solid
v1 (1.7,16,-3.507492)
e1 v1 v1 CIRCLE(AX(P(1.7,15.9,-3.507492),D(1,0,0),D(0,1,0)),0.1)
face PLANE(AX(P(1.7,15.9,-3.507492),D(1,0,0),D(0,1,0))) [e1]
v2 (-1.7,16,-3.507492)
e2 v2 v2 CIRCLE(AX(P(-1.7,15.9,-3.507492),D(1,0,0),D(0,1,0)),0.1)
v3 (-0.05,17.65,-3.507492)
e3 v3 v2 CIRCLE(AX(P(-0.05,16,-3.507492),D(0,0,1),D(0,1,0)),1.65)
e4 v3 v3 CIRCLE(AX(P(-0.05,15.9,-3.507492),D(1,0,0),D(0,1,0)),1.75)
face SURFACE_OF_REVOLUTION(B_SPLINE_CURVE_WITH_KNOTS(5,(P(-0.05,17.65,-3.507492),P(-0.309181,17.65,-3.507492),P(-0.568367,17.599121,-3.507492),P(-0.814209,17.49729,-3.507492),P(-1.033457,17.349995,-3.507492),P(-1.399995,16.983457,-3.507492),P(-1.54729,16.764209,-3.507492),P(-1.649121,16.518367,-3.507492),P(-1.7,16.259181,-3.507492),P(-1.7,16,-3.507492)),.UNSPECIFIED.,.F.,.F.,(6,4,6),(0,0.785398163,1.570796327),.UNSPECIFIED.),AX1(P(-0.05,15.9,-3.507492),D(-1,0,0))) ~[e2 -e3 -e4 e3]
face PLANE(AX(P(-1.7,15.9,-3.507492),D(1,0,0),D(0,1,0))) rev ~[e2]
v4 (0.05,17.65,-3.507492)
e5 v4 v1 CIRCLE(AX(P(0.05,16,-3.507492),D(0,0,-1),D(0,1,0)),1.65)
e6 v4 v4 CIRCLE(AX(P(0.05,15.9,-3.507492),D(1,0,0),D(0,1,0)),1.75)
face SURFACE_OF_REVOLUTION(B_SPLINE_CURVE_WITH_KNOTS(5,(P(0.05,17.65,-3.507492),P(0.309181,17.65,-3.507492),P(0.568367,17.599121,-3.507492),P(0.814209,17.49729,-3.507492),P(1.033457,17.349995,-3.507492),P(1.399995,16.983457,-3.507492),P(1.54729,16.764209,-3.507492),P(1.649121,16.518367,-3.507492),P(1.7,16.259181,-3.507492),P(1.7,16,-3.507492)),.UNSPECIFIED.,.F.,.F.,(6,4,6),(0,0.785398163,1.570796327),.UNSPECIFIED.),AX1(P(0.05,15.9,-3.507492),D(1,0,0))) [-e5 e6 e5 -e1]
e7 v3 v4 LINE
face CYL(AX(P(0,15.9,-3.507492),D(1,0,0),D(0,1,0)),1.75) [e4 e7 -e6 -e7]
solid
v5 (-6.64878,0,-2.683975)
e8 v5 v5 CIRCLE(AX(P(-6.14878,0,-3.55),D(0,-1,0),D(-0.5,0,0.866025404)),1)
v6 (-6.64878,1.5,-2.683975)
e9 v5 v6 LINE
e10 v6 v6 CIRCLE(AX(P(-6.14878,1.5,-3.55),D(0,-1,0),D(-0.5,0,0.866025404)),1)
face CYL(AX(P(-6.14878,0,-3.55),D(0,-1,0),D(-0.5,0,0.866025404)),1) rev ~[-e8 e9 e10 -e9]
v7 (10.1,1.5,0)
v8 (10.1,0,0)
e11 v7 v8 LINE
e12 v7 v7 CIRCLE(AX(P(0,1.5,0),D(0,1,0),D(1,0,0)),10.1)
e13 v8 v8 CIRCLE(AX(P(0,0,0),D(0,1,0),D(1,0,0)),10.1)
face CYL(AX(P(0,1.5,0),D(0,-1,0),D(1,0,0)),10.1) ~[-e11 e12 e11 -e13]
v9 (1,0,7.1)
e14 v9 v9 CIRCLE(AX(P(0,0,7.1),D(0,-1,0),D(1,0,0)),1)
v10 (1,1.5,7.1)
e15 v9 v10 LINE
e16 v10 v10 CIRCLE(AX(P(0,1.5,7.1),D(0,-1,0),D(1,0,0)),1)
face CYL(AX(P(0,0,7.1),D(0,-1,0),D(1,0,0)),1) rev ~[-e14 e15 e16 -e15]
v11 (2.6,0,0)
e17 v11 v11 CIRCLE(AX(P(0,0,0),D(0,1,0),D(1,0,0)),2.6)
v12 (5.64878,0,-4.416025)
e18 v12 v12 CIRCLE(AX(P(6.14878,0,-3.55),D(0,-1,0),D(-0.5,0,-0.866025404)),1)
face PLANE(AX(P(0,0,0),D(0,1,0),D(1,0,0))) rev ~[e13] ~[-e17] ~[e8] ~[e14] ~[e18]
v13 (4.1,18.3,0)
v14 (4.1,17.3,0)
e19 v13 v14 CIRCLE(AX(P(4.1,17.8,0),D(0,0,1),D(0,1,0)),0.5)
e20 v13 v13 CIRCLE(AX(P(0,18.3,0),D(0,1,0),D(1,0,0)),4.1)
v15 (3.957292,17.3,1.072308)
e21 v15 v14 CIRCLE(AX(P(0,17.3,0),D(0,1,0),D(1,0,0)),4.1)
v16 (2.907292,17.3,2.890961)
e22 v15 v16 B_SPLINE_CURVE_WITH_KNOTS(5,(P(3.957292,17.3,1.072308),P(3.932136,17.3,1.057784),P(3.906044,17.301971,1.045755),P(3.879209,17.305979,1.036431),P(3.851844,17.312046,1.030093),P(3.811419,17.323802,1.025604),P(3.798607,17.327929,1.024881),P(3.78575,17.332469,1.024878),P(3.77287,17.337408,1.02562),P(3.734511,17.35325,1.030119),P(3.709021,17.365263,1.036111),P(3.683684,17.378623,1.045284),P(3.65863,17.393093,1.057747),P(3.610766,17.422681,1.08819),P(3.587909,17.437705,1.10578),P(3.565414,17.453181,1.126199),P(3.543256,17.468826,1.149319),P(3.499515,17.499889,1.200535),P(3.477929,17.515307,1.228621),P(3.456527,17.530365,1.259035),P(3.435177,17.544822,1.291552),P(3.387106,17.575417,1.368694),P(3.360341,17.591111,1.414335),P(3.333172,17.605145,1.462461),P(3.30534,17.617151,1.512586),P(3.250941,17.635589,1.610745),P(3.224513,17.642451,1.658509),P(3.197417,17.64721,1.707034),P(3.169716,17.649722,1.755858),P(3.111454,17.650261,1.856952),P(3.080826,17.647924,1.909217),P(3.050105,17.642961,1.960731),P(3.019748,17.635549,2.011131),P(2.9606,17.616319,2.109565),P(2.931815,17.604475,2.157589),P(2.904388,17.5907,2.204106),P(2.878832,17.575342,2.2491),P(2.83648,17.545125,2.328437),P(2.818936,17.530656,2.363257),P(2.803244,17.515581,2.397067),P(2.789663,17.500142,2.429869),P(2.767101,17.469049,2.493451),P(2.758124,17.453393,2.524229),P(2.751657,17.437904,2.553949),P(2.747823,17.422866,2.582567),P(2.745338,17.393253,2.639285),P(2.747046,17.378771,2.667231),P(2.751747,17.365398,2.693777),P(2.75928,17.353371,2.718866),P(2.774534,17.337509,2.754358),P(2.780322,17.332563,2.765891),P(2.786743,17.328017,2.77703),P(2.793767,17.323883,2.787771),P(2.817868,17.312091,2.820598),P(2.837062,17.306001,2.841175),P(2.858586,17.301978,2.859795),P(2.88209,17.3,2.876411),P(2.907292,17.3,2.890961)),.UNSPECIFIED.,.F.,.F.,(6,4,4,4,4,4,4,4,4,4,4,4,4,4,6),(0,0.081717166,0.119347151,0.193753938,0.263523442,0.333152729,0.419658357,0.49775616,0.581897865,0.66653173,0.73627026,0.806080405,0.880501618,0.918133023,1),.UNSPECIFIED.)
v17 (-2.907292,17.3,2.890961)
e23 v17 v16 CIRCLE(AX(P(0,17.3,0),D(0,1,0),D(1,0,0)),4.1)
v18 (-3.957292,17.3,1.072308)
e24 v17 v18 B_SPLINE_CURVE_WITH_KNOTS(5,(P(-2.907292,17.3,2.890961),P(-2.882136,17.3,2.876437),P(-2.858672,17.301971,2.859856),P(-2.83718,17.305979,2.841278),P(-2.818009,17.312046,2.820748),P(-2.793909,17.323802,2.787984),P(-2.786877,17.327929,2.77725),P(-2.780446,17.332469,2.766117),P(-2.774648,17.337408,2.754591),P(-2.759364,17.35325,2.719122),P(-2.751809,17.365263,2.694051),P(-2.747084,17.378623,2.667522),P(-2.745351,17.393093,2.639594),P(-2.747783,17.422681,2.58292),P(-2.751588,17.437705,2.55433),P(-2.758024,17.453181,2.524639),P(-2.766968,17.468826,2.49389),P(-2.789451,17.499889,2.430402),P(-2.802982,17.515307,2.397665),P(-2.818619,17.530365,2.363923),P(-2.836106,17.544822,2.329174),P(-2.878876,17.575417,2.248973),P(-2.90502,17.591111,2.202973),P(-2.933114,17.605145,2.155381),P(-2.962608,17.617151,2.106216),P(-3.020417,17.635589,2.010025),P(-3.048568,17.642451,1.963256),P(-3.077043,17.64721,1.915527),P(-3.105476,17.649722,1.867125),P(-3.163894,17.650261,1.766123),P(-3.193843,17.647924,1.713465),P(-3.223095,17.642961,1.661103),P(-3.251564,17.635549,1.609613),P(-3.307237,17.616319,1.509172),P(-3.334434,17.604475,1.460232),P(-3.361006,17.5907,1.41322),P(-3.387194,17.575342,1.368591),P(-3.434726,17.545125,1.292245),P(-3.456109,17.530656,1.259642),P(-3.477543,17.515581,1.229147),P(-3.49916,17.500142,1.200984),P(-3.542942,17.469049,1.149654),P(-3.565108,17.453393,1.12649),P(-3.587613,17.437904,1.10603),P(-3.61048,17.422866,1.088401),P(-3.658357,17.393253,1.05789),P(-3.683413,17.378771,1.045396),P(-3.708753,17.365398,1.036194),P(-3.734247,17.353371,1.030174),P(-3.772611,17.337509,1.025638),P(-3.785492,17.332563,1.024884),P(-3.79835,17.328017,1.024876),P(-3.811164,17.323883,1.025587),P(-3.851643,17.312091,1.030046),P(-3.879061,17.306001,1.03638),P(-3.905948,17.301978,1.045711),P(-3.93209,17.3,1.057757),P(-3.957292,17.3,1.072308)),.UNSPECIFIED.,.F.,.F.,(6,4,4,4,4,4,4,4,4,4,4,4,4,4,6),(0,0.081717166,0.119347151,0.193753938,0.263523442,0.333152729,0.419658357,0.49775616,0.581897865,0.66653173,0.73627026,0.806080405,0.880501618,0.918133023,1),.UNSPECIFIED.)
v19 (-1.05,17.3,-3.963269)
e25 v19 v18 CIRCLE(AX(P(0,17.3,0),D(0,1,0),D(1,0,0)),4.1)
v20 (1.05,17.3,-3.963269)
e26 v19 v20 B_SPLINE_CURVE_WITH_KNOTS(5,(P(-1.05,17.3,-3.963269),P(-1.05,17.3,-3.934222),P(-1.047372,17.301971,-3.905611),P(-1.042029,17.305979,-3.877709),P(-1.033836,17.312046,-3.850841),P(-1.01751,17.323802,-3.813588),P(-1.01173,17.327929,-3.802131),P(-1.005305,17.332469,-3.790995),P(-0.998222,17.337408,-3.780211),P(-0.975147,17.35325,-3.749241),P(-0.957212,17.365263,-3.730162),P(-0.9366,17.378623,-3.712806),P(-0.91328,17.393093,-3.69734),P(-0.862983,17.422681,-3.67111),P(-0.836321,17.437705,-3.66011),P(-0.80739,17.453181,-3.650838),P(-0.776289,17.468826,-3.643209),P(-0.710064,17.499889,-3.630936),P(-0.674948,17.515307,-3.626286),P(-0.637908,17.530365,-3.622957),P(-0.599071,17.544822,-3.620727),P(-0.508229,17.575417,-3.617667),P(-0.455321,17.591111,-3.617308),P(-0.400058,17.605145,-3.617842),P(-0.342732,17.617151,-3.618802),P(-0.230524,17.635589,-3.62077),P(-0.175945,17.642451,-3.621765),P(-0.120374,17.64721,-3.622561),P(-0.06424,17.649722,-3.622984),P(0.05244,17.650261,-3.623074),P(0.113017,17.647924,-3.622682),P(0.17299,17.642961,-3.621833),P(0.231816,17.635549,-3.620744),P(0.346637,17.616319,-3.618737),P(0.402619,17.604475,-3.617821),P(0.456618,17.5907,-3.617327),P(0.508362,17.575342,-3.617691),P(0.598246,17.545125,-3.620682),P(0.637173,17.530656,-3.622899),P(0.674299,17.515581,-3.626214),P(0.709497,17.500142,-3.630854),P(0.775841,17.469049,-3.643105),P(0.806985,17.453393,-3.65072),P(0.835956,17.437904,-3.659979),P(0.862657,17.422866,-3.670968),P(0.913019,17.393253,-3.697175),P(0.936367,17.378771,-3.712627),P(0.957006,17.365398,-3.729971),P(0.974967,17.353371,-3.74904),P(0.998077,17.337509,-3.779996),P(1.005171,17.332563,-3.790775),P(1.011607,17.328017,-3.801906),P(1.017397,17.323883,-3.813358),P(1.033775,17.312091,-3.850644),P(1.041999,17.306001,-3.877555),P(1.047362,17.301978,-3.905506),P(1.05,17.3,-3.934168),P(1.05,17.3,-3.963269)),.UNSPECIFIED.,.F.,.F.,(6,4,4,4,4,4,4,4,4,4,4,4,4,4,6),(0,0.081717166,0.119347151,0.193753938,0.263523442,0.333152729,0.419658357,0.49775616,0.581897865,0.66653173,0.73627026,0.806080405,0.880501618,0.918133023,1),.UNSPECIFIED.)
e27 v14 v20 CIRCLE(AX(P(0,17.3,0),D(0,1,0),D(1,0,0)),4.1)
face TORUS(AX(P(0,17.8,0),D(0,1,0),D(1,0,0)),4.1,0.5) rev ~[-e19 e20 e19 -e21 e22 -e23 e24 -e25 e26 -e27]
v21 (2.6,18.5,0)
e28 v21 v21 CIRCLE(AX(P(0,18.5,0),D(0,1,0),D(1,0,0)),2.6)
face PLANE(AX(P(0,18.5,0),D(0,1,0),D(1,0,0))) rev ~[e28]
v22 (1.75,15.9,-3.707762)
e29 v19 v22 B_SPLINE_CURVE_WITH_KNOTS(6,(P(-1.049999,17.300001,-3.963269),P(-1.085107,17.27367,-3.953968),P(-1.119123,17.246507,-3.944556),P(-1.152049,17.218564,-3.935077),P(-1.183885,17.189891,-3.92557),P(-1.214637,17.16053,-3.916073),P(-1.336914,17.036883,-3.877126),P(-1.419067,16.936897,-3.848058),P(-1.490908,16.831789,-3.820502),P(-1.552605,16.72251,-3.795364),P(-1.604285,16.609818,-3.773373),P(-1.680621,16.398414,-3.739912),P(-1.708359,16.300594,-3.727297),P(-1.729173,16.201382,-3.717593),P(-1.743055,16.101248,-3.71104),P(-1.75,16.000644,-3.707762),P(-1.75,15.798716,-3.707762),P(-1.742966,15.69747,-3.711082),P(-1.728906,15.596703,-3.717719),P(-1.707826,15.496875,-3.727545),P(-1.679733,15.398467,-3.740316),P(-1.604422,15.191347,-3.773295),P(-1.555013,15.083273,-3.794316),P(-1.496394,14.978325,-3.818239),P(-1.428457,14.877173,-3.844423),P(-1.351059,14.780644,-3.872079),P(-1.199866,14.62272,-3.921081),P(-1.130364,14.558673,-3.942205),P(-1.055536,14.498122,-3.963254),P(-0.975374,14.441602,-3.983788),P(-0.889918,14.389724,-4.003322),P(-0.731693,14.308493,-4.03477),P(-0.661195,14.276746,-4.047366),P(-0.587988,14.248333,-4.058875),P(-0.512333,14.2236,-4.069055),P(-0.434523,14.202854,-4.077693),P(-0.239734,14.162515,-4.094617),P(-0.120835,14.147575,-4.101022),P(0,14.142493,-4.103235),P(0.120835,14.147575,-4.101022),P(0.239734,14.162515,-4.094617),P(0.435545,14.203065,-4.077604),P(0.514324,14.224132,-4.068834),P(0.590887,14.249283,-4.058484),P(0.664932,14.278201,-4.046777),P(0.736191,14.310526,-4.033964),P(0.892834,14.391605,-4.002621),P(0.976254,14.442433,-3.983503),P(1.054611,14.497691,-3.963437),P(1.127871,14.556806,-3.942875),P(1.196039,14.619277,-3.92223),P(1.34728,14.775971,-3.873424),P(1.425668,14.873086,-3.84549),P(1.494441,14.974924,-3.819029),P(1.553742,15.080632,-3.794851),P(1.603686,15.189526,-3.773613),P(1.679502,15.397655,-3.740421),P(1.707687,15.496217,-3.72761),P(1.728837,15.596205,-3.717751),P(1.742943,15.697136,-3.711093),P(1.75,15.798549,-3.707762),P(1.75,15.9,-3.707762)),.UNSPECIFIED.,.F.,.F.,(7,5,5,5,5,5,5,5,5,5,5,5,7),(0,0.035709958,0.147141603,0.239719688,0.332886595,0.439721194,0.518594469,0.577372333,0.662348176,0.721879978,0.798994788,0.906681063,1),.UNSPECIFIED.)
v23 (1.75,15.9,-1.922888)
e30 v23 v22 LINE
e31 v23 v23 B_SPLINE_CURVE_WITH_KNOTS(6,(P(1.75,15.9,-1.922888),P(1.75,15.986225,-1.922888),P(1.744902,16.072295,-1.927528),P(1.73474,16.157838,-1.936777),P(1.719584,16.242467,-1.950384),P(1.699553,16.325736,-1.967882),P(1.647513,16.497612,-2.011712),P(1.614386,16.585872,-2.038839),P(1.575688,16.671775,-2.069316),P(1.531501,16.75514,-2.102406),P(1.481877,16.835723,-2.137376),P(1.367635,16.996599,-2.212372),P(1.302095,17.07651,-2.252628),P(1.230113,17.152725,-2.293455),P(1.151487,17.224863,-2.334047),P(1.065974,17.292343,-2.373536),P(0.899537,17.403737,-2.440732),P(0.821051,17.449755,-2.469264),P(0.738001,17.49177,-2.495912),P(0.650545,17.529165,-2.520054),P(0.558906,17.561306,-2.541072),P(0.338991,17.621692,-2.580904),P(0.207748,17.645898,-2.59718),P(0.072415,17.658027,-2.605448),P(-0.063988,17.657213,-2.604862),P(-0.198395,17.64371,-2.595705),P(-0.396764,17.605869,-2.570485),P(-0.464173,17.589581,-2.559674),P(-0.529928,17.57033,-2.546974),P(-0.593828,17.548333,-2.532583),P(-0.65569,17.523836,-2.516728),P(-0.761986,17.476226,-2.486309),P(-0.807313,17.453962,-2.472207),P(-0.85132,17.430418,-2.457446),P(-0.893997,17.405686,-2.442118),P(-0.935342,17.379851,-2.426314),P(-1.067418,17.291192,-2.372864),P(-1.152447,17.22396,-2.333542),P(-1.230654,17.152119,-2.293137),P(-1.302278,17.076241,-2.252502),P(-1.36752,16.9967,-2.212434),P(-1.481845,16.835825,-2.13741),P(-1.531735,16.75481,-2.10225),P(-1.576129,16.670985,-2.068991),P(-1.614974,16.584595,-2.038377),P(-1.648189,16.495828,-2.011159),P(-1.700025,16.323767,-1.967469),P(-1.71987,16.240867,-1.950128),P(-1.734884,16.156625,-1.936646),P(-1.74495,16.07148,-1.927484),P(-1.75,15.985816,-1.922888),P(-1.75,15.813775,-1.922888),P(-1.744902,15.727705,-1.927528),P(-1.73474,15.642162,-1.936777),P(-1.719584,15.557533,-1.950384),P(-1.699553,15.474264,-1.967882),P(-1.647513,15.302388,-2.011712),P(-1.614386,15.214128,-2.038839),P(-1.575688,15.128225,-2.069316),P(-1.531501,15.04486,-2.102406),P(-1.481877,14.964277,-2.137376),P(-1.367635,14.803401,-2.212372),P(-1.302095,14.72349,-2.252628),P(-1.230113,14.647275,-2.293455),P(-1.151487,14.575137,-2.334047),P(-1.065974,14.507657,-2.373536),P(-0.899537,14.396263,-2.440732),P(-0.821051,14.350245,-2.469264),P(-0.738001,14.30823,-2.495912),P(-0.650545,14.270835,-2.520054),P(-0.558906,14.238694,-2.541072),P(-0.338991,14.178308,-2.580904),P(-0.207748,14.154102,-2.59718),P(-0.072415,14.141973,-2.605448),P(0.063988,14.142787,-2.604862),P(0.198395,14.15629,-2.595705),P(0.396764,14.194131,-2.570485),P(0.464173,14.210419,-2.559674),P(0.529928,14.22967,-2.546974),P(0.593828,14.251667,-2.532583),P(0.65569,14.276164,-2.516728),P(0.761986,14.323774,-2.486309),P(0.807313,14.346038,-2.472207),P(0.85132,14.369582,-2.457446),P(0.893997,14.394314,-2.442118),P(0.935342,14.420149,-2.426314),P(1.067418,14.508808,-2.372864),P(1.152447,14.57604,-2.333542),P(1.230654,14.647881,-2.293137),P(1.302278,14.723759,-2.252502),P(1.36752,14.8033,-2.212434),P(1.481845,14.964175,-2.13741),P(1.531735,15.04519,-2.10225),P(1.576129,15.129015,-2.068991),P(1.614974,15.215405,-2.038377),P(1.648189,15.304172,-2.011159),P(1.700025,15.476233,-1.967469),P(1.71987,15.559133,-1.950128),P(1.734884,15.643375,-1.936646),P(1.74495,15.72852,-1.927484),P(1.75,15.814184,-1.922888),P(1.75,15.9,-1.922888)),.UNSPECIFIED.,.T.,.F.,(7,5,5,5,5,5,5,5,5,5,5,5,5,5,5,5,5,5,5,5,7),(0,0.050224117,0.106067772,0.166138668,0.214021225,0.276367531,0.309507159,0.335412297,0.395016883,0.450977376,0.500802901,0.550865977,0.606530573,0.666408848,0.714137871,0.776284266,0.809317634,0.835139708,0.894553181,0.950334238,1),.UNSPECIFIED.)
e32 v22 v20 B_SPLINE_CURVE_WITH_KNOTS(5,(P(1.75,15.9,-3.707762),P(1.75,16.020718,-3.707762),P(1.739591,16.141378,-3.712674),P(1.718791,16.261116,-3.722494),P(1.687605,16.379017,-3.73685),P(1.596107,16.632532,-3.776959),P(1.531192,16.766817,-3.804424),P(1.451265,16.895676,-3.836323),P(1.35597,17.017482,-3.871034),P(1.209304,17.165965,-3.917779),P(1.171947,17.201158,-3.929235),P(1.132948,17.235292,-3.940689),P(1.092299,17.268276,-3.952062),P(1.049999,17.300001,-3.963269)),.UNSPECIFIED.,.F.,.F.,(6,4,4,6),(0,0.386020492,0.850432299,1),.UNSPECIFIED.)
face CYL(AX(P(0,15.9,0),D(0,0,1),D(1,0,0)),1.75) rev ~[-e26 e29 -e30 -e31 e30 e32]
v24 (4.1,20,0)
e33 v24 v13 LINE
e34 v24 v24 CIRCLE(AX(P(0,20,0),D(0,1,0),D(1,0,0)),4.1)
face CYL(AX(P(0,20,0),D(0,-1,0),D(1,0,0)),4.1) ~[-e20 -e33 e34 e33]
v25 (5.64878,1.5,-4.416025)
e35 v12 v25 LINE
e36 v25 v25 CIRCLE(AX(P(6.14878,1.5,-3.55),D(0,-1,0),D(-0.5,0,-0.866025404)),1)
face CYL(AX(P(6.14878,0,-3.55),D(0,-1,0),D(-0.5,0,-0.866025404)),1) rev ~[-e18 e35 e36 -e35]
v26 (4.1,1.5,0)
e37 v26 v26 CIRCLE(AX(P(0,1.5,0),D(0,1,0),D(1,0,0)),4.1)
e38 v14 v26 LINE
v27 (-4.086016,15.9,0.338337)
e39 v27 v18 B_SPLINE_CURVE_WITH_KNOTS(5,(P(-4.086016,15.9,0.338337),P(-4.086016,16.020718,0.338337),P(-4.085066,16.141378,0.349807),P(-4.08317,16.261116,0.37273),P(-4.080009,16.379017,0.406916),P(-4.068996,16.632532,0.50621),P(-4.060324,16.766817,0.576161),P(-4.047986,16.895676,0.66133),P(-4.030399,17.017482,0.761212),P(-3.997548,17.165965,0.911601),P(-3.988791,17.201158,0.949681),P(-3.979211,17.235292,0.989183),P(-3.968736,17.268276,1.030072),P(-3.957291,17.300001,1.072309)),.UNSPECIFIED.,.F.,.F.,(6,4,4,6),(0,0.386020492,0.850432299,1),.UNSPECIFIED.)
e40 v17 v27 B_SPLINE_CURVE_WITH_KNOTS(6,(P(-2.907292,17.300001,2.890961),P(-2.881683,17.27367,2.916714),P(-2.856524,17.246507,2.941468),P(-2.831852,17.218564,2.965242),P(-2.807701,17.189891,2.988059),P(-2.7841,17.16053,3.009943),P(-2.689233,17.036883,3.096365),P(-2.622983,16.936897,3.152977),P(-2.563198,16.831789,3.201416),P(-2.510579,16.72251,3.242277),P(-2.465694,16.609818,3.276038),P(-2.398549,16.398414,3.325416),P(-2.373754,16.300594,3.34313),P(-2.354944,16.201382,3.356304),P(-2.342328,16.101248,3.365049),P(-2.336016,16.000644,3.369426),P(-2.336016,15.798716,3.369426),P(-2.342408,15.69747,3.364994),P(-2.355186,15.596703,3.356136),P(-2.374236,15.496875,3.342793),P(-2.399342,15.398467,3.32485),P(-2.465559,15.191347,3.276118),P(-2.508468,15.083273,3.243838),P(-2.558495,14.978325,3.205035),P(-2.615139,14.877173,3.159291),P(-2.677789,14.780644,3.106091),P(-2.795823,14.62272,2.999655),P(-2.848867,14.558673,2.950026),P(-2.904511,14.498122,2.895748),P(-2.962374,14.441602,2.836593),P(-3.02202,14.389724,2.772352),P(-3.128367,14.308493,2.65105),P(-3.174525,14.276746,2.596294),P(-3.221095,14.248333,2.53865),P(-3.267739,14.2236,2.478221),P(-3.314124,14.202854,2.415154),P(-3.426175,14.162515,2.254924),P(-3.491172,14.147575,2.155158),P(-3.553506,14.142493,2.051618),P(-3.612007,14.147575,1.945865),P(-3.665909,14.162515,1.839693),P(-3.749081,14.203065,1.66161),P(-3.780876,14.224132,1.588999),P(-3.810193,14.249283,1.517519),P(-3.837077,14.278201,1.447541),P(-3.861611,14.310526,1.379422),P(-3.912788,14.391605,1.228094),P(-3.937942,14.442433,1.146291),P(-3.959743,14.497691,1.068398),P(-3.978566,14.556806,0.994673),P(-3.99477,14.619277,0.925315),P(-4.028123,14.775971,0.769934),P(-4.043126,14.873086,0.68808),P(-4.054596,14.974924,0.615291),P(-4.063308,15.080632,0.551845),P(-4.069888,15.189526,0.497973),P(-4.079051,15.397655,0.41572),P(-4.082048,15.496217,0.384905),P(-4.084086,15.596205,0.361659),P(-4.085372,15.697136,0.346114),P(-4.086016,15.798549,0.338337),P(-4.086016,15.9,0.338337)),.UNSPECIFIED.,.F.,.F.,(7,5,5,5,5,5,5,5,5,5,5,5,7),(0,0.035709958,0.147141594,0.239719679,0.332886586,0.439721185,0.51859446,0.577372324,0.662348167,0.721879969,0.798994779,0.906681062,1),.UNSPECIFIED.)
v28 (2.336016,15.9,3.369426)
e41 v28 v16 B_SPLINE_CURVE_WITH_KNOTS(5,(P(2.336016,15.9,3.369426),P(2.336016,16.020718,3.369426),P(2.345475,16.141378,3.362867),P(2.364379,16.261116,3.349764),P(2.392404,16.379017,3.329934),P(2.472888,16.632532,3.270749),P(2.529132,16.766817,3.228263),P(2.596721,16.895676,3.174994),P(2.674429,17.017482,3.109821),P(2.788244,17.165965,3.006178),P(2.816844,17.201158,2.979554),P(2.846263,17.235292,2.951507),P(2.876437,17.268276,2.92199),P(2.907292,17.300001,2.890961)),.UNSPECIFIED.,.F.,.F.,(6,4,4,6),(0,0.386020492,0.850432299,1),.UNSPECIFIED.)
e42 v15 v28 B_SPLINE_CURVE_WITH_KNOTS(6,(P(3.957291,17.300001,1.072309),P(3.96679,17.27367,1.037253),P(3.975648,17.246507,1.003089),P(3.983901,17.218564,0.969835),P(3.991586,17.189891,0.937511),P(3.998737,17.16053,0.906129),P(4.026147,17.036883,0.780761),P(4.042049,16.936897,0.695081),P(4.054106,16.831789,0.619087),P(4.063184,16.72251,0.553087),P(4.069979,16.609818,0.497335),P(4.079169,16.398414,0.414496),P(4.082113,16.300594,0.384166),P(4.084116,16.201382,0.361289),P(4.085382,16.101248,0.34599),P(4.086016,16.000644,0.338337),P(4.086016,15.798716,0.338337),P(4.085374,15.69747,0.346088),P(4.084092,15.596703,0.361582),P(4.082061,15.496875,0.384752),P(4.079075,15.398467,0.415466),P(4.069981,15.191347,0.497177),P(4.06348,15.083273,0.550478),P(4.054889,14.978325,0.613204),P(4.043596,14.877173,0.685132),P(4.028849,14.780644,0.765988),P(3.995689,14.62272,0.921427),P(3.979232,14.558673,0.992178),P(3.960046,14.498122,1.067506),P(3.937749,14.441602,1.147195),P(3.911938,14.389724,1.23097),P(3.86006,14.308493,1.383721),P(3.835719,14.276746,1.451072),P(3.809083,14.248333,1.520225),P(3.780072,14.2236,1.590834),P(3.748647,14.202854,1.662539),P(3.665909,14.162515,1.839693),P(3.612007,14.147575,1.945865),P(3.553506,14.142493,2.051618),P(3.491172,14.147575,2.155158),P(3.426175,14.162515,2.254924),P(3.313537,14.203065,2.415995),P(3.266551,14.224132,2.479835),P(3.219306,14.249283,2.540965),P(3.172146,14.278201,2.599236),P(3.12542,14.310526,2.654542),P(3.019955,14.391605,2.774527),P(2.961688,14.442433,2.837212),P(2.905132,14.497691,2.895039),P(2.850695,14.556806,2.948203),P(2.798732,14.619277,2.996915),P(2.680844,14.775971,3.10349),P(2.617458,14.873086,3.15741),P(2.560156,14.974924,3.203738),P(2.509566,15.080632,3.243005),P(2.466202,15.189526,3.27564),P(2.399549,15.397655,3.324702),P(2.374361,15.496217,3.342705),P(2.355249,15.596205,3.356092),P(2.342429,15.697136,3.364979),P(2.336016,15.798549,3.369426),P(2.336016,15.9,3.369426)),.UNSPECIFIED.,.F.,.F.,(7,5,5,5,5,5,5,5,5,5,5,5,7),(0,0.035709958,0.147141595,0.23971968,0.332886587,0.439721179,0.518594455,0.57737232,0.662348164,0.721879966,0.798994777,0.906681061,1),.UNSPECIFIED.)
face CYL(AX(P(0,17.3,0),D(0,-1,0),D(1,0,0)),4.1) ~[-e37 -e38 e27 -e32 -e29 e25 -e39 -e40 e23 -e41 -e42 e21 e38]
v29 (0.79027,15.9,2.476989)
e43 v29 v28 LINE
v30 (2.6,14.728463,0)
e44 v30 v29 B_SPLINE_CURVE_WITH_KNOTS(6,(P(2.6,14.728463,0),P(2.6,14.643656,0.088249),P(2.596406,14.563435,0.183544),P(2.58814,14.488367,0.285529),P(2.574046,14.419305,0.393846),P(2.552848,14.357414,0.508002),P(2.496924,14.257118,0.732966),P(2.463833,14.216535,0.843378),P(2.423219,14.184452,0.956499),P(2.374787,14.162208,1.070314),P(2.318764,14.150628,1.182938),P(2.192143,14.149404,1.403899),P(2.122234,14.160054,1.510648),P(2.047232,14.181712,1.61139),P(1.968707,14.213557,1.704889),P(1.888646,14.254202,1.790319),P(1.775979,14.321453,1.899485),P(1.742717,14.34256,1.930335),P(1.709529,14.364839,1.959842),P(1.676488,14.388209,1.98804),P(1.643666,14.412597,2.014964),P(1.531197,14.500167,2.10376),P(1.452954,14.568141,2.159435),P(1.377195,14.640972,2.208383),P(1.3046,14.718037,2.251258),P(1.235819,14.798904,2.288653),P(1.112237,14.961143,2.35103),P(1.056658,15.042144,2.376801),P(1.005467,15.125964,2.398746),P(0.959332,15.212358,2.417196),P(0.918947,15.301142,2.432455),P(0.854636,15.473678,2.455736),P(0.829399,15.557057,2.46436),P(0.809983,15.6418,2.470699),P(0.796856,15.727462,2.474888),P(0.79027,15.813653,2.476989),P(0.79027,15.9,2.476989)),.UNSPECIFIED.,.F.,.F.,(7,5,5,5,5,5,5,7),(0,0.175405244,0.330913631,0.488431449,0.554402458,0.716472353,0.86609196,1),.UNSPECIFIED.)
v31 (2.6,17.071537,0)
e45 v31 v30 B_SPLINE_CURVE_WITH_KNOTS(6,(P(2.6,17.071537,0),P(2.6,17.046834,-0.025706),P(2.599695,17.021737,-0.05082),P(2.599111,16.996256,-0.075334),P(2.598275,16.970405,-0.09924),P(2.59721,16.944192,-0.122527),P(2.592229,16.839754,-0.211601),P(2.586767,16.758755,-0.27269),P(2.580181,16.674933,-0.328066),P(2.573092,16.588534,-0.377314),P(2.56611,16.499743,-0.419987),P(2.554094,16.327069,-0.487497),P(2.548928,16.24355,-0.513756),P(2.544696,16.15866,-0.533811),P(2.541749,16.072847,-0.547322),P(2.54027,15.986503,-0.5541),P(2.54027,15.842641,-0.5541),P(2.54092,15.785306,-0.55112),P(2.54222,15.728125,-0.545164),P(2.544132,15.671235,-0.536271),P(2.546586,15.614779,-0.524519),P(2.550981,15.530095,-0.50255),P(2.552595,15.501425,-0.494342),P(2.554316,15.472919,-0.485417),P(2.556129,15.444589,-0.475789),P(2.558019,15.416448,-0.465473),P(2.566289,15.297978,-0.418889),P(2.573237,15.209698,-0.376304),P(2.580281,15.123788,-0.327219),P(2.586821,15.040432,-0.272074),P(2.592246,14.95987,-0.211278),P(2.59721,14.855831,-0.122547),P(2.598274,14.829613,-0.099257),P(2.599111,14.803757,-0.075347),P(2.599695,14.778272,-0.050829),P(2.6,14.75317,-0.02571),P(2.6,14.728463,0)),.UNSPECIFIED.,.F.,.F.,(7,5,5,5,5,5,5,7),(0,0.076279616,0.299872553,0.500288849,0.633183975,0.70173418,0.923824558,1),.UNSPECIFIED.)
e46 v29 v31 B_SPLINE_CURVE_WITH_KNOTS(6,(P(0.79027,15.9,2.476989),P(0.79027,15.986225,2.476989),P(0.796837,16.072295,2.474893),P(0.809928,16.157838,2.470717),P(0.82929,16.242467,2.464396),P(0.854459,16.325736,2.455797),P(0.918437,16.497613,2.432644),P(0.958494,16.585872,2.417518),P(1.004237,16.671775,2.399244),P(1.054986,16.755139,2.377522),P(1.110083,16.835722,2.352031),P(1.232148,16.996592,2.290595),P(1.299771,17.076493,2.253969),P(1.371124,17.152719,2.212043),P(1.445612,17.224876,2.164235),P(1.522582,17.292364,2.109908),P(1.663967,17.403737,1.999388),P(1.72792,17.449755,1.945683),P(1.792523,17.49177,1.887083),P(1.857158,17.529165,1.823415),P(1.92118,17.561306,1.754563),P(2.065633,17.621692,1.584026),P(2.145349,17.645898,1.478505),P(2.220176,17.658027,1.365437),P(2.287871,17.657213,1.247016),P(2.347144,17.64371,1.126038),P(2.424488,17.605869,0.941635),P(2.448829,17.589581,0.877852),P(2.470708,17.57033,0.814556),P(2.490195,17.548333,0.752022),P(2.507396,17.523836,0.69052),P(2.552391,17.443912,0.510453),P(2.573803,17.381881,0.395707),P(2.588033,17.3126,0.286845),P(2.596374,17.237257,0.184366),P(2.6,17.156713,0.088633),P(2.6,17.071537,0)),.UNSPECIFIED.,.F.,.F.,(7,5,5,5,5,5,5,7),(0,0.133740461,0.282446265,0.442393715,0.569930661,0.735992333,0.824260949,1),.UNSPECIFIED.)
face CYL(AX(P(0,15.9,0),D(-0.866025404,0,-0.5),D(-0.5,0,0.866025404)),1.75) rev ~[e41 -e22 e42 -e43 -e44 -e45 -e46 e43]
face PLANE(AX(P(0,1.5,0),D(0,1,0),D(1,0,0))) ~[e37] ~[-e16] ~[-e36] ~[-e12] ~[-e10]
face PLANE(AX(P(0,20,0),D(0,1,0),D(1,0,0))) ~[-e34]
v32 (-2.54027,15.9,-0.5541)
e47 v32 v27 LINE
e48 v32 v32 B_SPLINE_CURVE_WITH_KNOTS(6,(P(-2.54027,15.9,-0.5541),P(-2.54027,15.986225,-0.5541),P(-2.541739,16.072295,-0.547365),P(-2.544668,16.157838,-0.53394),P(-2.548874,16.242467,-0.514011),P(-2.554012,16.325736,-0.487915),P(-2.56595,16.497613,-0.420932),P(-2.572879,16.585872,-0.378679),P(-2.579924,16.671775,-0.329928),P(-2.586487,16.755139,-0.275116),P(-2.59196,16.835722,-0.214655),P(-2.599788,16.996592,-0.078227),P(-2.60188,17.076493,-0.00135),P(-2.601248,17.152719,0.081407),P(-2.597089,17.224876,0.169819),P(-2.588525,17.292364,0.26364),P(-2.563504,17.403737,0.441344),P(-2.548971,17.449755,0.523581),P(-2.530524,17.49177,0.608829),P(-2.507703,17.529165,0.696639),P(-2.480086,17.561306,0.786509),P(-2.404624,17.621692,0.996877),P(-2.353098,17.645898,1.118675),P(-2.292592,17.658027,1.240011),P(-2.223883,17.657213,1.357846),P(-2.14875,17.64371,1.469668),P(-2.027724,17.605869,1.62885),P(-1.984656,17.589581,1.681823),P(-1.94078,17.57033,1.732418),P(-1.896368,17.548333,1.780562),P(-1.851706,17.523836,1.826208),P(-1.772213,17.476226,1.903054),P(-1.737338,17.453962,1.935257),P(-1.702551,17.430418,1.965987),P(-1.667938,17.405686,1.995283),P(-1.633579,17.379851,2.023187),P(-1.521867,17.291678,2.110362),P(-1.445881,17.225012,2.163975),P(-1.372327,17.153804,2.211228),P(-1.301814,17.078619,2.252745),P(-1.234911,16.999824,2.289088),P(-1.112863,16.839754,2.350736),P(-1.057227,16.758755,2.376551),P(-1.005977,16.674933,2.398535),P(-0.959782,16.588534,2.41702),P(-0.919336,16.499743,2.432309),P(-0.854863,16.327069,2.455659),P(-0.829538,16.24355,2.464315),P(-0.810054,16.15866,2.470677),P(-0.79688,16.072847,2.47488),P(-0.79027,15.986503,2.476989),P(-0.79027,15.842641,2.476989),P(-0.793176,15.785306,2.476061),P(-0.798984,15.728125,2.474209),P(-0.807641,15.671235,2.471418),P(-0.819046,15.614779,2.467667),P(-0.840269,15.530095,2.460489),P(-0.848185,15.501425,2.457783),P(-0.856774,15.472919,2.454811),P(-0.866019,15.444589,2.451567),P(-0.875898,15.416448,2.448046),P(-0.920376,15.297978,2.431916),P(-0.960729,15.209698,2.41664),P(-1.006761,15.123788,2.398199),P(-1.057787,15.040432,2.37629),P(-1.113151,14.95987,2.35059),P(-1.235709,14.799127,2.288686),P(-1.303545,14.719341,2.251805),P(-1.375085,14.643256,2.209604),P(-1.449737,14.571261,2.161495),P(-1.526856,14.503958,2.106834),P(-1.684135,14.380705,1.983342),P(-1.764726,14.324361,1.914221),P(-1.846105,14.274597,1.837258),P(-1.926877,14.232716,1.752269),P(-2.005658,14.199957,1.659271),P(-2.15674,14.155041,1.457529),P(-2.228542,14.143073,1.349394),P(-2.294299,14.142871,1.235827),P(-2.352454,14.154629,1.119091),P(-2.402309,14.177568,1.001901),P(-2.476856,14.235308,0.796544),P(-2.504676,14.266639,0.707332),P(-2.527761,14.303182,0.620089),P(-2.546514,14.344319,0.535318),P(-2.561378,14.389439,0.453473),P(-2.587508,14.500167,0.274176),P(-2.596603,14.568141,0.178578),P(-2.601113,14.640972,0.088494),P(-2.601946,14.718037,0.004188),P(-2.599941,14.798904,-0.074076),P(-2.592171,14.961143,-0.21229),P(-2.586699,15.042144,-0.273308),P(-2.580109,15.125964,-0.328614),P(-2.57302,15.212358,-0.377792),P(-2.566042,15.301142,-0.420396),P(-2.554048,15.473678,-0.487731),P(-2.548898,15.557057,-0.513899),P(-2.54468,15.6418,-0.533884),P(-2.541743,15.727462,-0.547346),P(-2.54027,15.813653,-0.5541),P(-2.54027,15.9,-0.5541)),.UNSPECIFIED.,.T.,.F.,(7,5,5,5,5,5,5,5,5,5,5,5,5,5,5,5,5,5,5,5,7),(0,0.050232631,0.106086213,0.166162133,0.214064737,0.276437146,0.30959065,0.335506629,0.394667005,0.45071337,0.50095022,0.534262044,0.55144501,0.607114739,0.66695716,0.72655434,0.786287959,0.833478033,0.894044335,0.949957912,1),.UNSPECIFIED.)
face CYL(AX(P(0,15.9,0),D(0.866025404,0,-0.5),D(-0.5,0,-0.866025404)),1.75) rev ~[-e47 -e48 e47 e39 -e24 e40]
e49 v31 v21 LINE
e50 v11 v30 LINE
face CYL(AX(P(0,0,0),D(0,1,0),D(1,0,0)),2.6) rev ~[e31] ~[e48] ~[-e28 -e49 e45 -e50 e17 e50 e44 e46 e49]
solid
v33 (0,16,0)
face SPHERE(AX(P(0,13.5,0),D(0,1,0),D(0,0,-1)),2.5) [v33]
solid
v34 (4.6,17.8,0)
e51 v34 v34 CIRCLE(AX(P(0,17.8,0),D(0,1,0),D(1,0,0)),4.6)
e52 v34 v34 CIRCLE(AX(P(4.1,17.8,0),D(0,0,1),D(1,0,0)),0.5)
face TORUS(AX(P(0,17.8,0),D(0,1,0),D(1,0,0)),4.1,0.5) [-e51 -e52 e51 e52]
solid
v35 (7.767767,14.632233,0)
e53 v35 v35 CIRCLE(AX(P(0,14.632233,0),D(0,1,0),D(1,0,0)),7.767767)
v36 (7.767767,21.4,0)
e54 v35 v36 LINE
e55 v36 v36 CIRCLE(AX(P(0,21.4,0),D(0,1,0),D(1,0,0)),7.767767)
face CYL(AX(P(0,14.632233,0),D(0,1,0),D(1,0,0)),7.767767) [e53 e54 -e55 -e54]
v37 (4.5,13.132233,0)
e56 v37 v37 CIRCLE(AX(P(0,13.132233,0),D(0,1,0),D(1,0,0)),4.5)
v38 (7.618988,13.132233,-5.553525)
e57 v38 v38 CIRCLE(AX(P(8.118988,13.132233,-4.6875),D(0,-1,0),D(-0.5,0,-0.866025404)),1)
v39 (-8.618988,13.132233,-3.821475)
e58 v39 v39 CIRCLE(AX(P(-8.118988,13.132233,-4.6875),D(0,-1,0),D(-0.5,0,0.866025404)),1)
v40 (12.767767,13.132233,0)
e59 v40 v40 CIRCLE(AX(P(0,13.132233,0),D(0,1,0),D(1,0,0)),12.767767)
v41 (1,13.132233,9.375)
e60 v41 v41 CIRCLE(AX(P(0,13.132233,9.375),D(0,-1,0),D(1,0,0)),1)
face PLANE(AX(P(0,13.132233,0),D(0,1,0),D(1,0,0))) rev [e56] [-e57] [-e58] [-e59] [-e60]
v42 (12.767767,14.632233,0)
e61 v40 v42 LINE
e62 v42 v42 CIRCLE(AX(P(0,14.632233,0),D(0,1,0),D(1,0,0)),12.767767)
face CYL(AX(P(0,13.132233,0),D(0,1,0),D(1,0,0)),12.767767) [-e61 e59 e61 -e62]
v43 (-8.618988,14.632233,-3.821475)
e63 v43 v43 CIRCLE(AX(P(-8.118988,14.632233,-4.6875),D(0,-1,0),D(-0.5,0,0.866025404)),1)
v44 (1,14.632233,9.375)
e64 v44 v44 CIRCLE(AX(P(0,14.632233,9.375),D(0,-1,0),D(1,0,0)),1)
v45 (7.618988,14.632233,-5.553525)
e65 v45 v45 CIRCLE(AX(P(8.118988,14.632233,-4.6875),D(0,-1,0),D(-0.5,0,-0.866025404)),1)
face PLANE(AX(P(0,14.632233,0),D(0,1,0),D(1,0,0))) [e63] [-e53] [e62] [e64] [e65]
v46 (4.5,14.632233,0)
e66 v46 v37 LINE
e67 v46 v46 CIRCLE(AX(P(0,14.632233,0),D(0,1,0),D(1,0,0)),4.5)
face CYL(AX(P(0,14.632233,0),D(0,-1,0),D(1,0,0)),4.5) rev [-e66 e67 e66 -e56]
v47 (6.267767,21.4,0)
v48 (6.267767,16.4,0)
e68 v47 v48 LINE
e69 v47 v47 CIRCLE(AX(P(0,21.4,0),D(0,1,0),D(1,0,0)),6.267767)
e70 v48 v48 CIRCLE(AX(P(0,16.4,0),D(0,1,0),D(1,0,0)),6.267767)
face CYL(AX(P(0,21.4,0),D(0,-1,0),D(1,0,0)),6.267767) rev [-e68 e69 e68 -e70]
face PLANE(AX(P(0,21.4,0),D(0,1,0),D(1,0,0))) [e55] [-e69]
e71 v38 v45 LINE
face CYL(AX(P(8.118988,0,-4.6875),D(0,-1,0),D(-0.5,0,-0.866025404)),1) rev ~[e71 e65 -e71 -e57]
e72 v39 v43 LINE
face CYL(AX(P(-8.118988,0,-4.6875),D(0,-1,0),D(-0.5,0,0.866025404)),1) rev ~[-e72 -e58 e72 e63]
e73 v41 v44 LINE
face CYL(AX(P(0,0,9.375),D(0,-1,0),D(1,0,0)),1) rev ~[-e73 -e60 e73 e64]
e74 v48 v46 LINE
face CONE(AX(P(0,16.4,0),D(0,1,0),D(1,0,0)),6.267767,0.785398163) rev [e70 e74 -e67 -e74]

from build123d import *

# Parameters (mm, degrees)
SKETCH001_R           = 1.75
POCKET_DEPTH          = 79.845677
POLARPATTERN_COUNT    = 3
SKETCH002_R           = 1
POCKET001_DEPTH       = 5
POLARPATTERN001_COUNT = 3
SKETCH004_R           = 1
POCKET002_DEPTH       = 95.495074
POLARPATTERN002_COUNT = 3
SKETCH006_R           = 1.75
PAD_DEPTH             = 1.7
FILLET_R              = 1.65
SKETCH009_R           = 0.5


with BuildPart() as kugelaufnahme:
    # Sketch → Revolution (revolve)
    with BuildSketch(Plane.XY):
        with BuildLine():
            Line((0, 20), (4.1, 20))
            Line((4.1, 20), (4.1, 18.3))
            ThreePointArc((4.1, 18.3), (3.6, 17.8), (4.1, 17.3))
            Line((4.1, 17.3), (4.1, 1.5))
            Line((4.1, 1.5), (10.1, 1.5))
            Line((10.1, 1.5), (10.1, 0))
            Line((10.1, 0), (2.6, 0))
            Line((2.6, 0), (2.6, 18.5))
            Line((2.6, 18.5), (0, 18.5))
            Line((0, 20), (0, 18.5))
        make_face()
    revolve(axis=Axis((0, 0, 0), (0, 1, 0)))

    # Sketch001 → Pocket (cut, through all)
    with BuildSketch(Plane.XY):
        with Locations((0, 15.9)):
            Circle(SKETCH001_R)
    pocket = extrude(amount=-POCKET_DEPTH, mode=Mode.SUBTRACT)

    # PolarPattern: Pocket ×3 about axis
    polarpattern_axis = Axis((0, 0, 0), (0, 1, 0))
    for i in range(1, POLARPATTERN_COUNT):
        add(pocket.rotate(polarpattern_axis, i * 360 / POLARPATTERN_COUNT), mode=Mode.SUBTRACT)

    # Sketch002 → Pocket001 (cut)
    with BuildSketch(Plane.XZ):
        with Locations((0, 7.1)):
            Circle(SKETCH002_R)
    pocket001 = extrude(amount=-POCKET001_DEPTH, mode=Mode.SUBTRACT)

    # PolarPattern001: Pocket001 ×3 about axis
    polarpattern001_axis = Axis((0, 0, 0), (0, -1, 0))
    for i in range(1, POLARPATTERN001_COUNT):
        add(pocket001.rotate(polarpattern001_axis, i * 360 / POLARPATTERN001_COUNT), mode=Mode.SUBTRACT)


with BuildPart() as kugelrastung:
    # Sketch003 → Revolution001 (revolve)
    with BuildSketch(Plane.XY):
        Polygon((4.5, 14.632233), (4.5, 13.132233), (12.767767, 13.132233), (12.767767, 14.632233), (7.767767, 14.632233), (7.767767, 21.4), (6.267767, 21.4), (6.267767, 16.4), align=None)
    revolve(axis=Axis((0, 0, 0), (0, 1, 0)))

    # Sketch004 → Pocket002 (cut, through all)
    with BuildSketch(Plane.XZ):
        with Locations((0, 9.375)):
            Circle(SKETCH004_R)
    pocket002 = extrude(amount=-POCKET002_DEPTH, mode=Mode.SUBTRACT)

    # PolarPattern002: Pocket002 ×3 about axis
    polarpattern002_axis = Axis((0, 0, 0), (0, -1, 0))
    for i in range(1, POLARPATTERN002_COUNT):
        add(pocket002.rotate(polarpattern002_axis, i * 360 / POLARPATTERN002_COUNT), mode=Mode.SUBTRACT)


with BuildPart() as kugel:
    # Sketch005 → Revolution002 (revolve)
    with BuildSketch(Plane.YZ):
        with BuildLine():
            ThreePointArc((11, 0), (13.5, -2.5), (16, 0))
            Line((11, 0), (16, 0))
        make_face()
    revolve(axis=Axis((0, 0, 0), (0, 1, 0)))


with BuildPart() as rastkugel:
    # Sketch006 → Pad (new body, symmetric)
    with BuildSketch(Plane.YZ):
        with Locations((15.9, -3.507492)):
            Circle(SKETCH006_R)
    extrude(amount=PAD_DEPTH, both=True)

    # Fillet
    fillet_edges = [rastkugel.edges().sort_by_distance(p)[0] for p in [
        (-1.7, 14.15, -3.507492),
        (1.7, 14.15, -3.507492),
    ]]
    fillet(fillet_edges, radius=FILLET_R)


with BuildPart() as oring:
    # Sketch009 → Revolution003 (revolve)
    with BuildSketch(Plane.XY):
        with Locations((4.1, 17.8)):
            Circle(SKETCH009_R)
    revolve(axis=Axis((0, 0, 0), (0, 1, 0)))


solid = Compound([kugelaufnahme.part, kugelrastung.part, kugel.part, rastkugel.part, oring.part])
